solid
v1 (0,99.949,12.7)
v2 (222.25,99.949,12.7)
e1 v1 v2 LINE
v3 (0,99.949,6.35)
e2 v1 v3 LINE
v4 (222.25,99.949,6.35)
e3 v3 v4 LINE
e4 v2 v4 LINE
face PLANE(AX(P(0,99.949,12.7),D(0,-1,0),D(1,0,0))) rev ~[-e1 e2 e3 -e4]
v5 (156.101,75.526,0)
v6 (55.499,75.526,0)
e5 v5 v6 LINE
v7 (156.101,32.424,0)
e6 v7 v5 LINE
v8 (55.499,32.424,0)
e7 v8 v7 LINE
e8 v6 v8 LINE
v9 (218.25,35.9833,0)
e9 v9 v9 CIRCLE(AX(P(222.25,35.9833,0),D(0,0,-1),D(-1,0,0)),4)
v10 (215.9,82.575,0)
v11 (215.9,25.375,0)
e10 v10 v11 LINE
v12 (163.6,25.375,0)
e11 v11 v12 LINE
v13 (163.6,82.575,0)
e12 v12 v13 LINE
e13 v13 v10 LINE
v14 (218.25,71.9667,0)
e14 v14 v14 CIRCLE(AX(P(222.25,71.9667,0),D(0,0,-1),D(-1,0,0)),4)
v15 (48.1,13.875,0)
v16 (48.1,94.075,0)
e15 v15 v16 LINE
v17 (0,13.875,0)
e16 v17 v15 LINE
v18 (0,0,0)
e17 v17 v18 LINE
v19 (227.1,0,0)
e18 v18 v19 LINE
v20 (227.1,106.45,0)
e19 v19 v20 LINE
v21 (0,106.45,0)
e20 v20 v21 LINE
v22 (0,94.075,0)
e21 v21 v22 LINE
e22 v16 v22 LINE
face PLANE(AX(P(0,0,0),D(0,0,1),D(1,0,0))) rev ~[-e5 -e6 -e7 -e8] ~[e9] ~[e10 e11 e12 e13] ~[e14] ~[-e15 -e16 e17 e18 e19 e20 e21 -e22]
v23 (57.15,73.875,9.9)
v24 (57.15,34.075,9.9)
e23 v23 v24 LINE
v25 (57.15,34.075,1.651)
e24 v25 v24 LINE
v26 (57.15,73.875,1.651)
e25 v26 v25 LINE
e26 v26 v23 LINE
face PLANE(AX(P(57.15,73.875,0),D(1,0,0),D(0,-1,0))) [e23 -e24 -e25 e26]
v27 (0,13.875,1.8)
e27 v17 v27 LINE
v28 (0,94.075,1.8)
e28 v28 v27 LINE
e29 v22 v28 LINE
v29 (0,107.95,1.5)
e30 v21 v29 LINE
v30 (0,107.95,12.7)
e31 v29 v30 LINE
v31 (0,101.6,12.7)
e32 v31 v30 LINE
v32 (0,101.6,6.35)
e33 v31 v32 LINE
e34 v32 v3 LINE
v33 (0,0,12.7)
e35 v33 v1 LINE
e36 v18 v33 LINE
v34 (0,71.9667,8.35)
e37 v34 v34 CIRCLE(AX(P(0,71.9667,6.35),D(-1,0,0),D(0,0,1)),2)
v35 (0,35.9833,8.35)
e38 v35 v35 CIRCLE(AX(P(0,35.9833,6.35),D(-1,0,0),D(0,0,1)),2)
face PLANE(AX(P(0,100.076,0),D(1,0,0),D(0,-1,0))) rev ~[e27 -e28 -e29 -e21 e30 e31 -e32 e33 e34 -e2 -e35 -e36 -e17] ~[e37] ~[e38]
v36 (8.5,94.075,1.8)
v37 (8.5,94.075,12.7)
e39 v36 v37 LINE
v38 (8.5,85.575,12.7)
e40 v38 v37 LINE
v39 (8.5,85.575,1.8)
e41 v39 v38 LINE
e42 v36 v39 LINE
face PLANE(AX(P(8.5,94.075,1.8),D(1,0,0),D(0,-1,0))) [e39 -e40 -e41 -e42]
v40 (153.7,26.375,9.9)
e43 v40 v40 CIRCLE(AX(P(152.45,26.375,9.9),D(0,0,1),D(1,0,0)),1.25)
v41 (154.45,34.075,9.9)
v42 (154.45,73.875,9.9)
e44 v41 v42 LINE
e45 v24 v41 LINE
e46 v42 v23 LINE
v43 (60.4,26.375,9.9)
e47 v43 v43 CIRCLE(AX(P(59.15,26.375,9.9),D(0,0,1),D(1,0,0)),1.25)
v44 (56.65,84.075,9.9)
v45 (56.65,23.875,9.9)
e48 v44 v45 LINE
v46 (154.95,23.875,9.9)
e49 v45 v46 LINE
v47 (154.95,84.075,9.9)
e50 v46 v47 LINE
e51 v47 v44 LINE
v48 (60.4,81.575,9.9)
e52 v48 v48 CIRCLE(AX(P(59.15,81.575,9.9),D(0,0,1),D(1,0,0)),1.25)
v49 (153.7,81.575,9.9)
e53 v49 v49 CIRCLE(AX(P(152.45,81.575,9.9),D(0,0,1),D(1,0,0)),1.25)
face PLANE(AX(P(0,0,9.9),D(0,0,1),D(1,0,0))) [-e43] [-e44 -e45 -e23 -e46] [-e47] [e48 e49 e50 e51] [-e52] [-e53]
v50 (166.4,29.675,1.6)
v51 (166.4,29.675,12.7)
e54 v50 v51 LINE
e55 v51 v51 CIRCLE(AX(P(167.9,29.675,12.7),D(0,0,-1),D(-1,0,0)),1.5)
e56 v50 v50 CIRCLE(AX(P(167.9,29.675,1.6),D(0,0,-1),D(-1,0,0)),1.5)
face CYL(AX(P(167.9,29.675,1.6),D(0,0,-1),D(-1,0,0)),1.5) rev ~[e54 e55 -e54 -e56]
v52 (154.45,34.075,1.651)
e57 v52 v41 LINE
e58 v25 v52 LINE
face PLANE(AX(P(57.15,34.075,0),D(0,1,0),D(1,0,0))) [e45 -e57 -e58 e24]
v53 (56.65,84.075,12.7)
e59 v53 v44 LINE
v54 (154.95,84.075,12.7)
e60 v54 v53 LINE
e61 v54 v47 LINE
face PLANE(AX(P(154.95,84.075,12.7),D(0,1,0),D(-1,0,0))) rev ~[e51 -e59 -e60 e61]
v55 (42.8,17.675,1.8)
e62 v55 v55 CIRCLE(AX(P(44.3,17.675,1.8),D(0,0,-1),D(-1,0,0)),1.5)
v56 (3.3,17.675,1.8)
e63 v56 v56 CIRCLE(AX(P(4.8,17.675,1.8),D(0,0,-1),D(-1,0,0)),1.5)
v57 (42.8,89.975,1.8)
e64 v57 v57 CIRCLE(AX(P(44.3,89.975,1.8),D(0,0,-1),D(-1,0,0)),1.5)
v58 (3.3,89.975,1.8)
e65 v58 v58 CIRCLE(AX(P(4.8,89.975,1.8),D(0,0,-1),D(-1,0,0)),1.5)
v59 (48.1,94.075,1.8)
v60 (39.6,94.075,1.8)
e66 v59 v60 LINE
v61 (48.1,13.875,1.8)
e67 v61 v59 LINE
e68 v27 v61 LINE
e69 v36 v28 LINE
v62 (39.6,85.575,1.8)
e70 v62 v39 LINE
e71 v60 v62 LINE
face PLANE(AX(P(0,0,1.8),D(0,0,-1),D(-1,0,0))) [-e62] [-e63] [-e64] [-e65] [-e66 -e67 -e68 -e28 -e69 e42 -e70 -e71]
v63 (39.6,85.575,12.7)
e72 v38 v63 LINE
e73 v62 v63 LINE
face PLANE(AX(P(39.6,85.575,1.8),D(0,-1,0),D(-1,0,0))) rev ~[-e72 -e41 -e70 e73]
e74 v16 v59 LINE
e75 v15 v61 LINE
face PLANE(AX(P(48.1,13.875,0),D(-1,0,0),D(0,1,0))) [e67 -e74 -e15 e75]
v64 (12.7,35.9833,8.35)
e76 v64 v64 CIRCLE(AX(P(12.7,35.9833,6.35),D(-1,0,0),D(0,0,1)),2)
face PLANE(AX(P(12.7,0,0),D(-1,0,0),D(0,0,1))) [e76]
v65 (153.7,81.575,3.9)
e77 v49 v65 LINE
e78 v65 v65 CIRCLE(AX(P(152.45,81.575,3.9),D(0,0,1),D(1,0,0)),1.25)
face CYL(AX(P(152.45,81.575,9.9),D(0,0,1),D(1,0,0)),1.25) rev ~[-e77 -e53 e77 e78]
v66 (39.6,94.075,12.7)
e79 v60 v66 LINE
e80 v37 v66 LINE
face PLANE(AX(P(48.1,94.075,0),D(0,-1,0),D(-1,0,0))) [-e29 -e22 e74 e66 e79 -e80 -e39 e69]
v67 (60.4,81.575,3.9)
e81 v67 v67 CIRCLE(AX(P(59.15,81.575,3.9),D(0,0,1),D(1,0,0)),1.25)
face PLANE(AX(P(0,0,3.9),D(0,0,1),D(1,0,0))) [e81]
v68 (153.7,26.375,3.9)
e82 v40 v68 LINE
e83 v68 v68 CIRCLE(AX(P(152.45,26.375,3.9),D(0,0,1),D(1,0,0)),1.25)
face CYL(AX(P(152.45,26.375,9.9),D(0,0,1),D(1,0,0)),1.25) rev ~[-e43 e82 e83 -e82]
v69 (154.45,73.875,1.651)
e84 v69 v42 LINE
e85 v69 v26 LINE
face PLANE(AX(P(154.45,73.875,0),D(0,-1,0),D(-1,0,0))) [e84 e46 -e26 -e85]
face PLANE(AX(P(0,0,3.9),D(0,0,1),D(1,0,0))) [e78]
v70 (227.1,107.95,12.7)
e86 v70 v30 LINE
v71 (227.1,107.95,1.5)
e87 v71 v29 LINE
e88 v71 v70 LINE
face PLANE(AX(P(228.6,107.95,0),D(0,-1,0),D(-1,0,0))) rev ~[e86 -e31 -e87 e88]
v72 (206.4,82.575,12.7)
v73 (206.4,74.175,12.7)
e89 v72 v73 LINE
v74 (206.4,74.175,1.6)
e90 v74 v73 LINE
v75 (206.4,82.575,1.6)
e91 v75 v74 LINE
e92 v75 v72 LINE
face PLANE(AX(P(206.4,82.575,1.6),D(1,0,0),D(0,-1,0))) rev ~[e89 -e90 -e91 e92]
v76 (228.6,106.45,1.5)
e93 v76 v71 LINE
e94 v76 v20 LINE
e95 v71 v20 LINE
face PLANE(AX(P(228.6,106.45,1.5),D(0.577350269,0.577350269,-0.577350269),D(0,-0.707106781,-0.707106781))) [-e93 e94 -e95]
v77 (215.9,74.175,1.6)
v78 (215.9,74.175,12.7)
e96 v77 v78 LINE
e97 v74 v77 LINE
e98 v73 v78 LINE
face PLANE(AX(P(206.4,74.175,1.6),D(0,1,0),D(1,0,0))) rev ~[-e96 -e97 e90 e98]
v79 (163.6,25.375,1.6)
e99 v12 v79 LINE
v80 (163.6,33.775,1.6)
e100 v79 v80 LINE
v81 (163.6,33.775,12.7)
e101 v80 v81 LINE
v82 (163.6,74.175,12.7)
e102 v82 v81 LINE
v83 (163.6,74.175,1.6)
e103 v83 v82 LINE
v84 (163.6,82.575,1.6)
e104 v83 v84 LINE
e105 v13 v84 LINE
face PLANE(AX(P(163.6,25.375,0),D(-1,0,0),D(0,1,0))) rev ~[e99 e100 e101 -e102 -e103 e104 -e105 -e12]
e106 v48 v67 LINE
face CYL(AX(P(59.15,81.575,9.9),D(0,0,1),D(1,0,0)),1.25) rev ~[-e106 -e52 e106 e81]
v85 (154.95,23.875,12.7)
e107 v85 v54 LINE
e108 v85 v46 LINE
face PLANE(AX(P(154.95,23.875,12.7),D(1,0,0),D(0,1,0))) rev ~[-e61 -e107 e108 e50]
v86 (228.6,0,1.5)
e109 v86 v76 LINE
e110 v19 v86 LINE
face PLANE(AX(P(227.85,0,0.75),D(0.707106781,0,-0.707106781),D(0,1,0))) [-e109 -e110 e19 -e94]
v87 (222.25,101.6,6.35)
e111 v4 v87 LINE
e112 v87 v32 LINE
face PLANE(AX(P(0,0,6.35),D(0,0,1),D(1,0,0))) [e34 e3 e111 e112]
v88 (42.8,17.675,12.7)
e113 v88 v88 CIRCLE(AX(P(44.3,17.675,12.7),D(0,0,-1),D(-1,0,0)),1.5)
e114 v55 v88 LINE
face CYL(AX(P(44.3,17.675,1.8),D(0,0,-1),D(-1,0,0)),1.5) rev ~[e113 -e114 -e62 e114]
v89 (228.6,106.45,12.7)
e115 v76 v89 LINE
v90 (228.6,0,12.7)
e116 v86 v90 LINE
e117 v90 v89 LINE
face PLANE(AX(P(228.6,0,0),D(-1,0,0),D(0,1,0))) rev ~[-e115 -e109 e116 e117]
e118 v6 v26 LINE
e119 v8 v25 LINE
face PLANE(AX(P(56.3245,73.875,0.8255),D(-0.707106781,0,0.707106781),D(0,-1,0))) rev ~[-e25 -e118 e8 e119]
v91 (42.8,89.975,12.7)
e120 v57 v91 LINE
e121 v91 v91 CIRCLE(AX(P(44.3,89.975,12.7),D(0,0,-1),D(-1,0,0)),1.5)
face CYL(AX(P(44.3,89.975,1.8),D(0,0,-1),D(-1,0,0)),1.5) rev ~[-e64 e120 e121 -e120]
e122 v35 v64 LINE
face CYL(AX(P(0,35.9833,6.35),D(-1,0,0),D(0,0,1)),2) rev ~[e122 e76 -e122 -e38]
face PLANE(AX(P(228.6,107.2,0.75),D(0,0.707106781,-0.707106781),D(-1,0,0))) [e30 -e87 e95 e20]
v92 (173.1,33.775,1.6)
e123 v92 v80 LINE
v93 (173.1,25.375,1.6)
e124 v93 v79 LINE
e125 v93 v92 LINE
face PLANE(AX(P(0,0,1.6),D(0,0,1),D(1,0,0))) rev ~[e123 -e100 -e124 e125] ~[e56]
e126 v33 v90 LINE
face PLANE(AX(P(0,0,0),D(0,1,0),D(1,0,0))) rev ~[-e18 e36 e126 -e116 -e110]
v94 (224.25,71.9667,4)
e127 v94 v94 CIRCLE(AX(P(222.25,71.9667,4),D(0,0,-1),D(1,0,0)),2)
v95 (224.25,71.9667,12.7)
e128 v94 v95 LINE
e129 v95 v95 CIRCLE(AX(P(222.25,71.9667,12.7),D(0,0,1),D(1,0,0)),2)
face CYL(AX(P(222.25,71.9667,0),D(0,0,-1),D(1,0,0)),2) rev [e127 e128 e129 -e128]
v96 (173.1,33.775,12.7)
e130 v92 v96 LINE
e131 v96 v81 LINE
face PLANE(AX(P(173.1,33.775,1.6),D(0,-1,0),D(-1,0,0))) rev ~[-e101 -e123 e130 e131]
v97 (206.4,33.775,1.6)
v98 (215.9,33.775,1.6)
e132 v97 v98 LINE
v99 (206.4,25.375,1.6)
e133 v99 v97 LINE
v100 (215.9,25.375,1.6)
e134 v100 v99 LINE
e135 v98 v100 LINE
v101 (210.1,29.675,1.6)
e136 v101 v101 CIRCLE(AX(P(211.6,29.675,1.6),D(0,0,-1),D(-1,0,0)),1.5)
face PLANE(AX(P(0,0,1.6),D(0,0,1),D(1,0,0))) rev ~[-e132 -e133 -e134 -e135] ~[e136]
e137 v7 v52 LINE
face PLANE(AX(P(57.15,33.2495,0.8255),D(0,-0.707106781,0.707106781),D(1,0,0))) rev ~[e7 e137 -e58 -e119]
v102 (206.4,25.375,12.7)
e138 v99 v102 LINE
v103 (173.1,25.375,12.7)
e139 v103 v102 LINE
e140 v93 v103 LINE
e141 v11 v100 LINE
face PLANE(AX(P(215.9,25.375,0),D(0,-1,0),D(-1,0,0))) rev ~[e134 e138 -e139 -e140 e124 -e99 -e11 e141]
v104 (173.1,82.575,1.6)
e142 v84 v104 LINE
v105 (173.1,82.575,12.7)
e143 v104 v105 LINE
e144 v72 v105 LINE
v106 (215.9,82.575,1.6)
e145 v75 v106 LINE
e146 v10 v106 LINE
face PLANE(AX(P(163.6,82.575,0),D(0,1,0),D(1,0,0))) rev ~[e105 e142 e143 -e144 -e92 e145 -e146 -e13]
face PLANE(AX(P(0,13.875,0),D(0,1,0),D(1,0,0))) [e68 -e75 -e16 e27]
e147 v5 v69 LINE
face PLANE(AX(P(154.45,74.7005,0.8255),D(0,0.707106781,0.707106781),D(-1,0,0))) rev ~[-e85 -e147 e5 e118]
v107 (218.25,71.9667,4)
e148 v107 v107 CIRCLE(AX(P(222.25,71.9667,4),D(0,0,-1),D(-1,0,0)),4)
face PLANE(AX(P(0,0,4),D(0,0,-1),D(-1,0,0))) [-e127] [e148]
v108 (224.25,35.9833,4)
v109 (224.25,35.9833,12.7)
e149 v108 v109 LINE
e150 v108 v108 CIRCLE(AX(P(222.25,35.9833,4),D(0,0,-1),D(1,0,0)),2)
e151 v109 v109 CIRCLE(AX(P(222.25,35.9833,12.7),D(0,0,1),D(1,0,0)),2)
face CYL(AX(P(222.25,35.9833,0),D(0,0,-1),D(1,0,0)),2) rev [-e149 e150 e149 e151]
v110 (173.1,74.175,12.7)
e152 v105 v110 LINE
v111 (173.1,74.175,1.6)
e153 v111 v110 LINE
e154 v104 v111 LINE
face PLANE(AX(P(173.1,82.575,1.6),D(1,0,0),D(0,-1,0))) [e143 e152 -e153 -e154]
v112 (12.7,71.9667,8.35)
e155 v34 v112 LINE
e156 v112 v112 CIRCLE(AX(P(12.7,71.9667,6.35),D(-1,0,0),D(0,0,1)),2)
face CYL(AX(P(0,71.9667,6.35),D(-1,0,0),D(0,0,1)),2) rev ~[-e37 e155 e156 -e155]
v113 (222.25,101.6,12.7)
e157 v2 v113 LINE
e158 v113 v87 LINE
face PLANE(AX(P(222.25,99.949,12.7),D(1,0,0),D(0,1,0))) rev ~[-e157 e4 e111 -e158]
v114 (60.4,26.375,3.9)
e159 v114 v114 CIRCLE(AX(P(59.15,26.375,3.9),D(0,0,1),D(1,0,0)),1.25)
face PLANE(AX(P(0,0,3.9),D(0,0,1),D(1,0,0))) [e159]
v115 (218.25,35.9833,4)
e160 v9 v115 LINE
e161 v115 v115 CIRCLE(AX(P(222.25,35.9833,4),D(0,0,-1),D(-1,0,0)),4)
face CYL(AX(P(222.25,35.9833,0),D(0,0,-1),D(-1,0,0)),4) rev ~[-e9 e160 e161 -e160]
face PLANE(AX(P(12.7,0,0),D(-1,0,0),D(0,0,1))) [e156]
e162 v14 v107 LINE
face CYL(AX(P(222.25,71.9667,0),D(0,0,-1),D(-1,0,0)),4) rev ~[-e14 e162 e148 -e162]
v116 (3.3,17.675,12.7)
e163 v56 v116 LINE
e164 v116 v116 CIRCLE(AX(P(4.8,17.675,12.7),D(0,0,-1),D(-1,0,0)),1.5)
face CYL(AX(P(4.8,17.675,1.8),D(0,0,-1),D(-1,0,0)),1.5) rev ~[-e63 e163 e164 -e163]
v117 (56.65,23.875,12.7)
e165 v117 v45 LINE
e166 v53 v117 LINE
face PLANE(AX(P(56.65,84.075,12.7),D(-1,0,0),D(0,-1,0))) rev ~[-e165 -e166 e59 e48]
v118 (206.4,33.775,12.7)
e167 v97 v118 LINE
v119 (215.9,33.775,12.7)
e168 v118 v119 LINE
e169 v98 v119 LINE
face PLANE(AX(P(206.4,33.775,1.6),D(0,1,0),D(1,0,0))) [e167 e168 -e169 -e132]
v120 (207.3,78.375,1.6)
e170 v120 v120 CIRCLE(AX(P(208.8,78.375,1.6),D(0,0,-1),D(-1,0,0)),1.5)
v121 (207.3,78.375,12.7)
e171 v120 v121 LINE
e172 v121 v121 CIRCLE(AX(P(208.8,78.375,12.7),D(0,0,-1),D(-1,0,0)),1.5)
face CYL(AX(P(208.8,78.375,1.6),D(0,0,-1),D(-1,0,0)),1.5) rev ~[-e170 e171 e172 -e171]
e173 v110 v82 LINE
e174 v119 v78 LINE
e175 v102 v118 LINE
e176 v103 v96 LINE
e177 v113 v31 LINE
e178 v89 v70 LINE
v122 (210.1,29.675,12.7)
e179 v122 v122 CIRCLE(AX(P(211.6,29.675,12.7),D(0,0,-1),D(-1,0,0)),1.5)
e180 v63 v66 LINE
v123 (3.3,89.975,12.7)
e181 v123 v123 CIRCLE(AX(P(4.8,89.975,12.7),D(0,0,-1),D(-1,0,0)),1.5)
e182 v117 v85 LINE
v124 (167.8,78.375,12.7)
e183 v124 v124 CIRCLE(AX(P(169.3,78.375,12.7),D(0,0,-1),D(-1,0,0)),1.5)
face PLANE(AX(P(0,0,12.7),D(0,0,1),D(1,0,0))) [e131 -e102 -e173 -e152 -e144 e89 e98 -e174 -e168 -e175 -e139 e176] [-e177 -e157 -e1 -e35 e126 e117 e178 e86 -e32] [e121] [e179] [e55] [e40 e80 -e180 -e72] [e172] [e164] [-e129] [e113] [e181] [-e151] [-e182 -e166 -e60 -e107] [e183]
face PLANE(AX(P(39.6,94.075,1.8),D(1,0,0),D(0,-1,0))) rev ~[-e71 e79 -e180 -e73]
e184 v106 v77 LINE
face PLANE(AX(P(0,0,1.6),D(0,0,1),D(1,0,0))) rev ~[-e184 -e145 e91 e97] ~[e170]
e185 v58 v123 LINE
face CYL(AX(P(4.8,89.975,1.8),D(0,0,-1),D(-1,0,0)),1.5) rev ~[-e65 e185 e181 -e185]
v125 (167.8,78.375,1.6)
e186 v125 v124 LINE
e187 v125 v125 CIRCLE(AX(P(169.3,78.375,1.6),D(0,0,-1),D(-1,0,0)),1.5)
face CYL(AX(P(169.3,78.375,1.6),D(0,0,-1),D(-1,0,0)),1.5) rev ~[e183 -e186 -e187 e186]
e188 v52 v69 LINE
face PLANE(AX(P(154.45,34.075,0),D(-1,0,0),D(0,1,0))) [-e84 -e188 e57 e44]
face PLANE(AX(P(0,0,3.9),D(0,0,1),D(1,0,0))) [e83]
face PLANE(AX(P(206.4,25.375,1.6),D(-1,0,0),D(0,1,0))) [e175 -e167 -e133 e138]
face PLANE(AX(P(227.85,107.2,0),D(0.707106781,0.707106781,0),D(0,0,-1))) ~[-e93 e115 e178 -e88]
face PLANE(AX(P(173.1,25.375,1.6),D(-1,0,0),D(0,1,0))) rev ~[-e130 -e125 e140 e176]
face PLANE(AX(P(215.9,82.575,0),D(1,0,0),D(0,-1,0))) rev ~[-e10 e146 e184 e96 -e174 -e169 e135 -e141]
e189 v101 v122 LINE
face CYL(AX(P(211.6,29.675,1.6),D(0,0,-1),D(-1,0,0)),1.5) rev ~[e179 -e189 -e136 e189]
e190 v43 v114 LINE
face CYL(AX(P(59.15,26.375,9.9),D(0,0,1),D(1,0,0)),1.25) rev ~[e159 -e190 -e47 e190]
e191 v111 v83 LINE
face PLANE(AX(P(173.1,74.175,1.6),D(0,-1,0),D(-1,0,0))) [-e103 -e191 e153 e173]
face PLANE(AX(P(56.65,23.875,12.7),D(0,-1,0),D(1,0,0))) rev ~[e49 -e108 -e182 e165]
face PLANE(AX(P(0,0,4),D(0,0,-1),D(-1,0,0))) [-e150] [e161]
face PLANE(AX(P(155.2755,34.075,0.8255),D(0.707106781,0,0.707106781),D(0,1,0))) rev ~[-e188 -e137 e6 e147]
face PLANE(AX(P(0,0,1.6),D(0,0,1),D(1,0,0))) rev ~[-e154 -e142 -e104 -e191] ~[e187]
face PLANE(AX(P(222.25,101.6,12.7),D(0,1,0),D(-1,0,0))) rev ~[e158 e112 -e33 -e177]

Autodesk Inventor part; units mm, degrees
ref_plane "YZ Plane" through (0, 0, 0) normal (1, 0, 0) x (0, 1, 0)
ref_plane "XZ Plane" through (0, 0, 0) normal (0, 1, 0) x (-1, 0, 0)
ref_plane "XY Plane" through (0, 0, 0) normal (0, 0, 1) x (1, 0, 0)
sketch "Sketch1" plane through (0, 0, 0) normal (0, 0, 1) x (1, 0, 0)
  line L0 (0, 0) -> (228.6, 0)
  line L1 (228.6, 0) -> (228.6, 107.95)
  line L2 (228.6, 107.95) -> (0, 107.95)
  line L3 (0, 107.95) -> (0, 0)
  line L4 (228.6, 107.95) -> (222.25, 107.95) construction
  line L5 (222.25, 107.95) -> (222.25, 101.6) construction
  line L6 (222.25, 101.6) -> (228.6, 101.6) construction
  line L7 (228.6, 101.6) -> (228.6, 107.95) construction
  line L8 (222.25, 101.6) -> (0, 101.6)
  line L9 (0, 101.6) -> (0, 100.076)
  line L10 (0, 100.076) -> (222.25, 100.076)
  line L11 (222.25, 100.076) -> (222.25, 101.6)
  line L12 (228.6, 0) -> (222.25, 0) construction
  line L13 (222.25, 0) -> (222.25, 35.9833) construction
  line L14 (222.25, 35.9833) -> (228.6, 35.9833) construction
  line L15 (228.6, 35.9833) -> (228.6, 0) construction
  circle A0 centre (222.25, 35.9833) radius 2
  circle A1 centre (222.25, 71.9667) radius 2
  dimension "length" = 228.6
  dimension "height" = 107.95
  dimension "d3" = 6.35
  dimension "d4" = 6.35
  dimension "d5" = 222.25
  dimension "d6" = 1.524
  dimension "spacing" = 35.9833
  dimension "d9" = 6.35
  dimension "TopScrewDiameter" = 4
  dimension "d13" = 35.9833
extrude "Generic Shape" add sketch "Sketch1" along normal blind 12.7
chamfer "Chamfer Outside Edges" distance 1.5 angle 45 3 edges at (114.3, 107.95, 0) (228.6, 107.95, 6.35) (228.6, 53.975, 0)
sketch "ScrewCapDiameter" plane through (0, 0, 0) normal (0, 0, -1) x (-1, 0, 0)
  circle A0 centre (-222.25, 71.9667) radius 2 projected
  circle A1 centre (-222.25, 71.9667) radius 4
  circle A2 centre (-222.25, 35.9833) radius 2 projected
  circle A3 centre (-222.25, 35.9833) radius 4
  point P0 (0, 0)
  dimension "d106" = 8
  dimension "d107" = 8
extrude "ScrewCapCountersink" cut sketch "ScrewCapDiameter" against normal blind 4
sketch "PcbNotchDimensions" plane through (0, 0, 12.7) normal (0, 0, 1) x (1, 0, 0)
  line L0 (228.6, 107.95) -> (0, 107.95) construction
  line L1 (228.6, 107.95) -> (222.25, 107.95) construction
  line L2 (222.25, 107.95) -> (222.25, 101.6) construction
  line L3 (222.25, 101.6) -> (228.6, 101.6) construction
  line L4 (228.6, 101.6) -> (228.6, 107.95) construction
  line L5 (222.25, 101.6) -> (0, 101.6)
  line L6 (0, 101.6) -> (0, 99.949)
  line L7 (0, 99.949) -> (222.25, 99.949)
  line L8 (222.25, 99.949) -> (222.25, 101.6)
  point P0 (0, 0)
  dimension "d21" = 6.35
  dimension "d22" = 6.35
  dimension "d23" = 222.25
  dimension "PcbThickness" = 1.651
extrude "PCB Notch" cut sketch "PcbNotchDimensions" against normal blind 6.35
sketch "UntappedScrewHoleDimensions" plane through (0, 0, 0) normal (-1, 0, 0) x (0, 0, 1)
  line L0 (0, 0) -> (6.35, 0) construction
  line L1 (6.35, 0) -> (6.35, 35.9833) construction
  line L2 (6.35, 35.9833) -> (0, 35.9833) construction
  line L3 (0, 35.9833) -> (0, 0) construction
  circle A0 centre (6.35, 35.9833) radius 2
  line L4 (0, 107.95) -> (6.35, 107.95) construction
  line L5 (6.35, 107.95) -> (6.35, 71.9667) construction
  line L6 (6.35, 71.9667) -> (0, 71.9667) construction
  line L7 (0, 71.9667) -> (0, 107.95) construction
  circle A1 centre (6.35, 71.9667) radius 2
  dimension "d33" = 6.35
  dimension "d34" = 35.9833
  dimension "ScrewDiameterUntapped" = 4
  dimension "d36" = 6.35
  dimension "d37" = 35.9833
  dimension "d38" = 4
extrude "UntappedScrewDepth" cut sketch "UntappedScrewHoleDimensions" against normal blind 12.7
sketch "LCD" plane through (0, 0, 0) normal (0, 0, -1) x (-1, 0, 0)
  line L0 (0, 0) -> (-228.6, 0) construction
  line L1 (0, 0) -> (-105.8, 0) construction
  line L2 (-105.8, 0) -> (-105.8, 53.975) construction
  line L3 (-105.8, 53.975) -> (0, 53.975) construction
  line L4 (0, 53.975) -> (0, 0) construction
  line L5 (-154.45, 73.875) -> (-57.15, 73.875)
  line L6 (-57.15, 73.875) -> (-57.15, 34.075)
  line L7 (-57.15, 34.075) -> (-154.45, 34.075)
  line L8 (-154.45, 34.075) -> (-154.45, 73.875)
  line L9 (-154.45, 73.875) -> (-57.15, 34.075) construction
  line L10 (-57.15, 73.875) -> (-154.45, 34.075) construction
  line L11 (-154.95, 84.075) -> (-56.65, 84.075)
  line L12 (-56.65, 84.075) -> (-56.65, 23.875)
  line L13 (-56.65, 23.875) -> (-154.95, 23.875)
  line L14 (-154.95, 23.875) -> (-154.95, 84.075)
  line L15 (-154.95, 84.075) -> (-56.65, 23.875) construction
  line L16 (-56.65, 84.075) -> (-154.95, 23.875) construction
  dimension "d49" = 105.8
  dimension "d50" = 53.975
  dimension "LcdLength" = 97.3
  dimension "LcdHeight" = 39.8
  dimension "LcdBorderHeight" = 60.2
  dimension "LcdBorderLength" = 98.3
extrude "LcdWindow" cut sketch "LCD" against normal blind 9.9 contours L5 L6 L7 L8
sketch "LcdFrameDimensions" plane through (0, 0, 12.7) normal (0, 0, 1) x (1, 0, 0)
  line L0 (154.95, 84.075) -> (56.65, 84.075) projected
  line L1 (154.95, 23.875) -> (154.95, 84.075) projected
  line L2 (56.65, 23.875) -> (154.95, 23.875) projected
  line L3 (56.65, 84.075) -> (56.65, 23.875) projected
  point P0 (0, 0)
extrude "LcdFrame" cut sketch "LcdFrameDimensions" against normal blind 2.8
sketch "LcdScrewsSketch" plane through (0, 0, 9.9) normal (0, 0, 1) x (1, 0, 0)
  line L0 (56.65, 23.875) -> (56.65, 84.075) construction
  line L1 (56.65, 84.075) -> (59.15, 84.075) construction
  line L2 (59.15, 84.075) -> (59.15, 81.575) construction
  line L3 (59.15, 81.575) -> (56.65, 81.575) construction
  line L4 (56.65, 81.575) -> (56.65, 84.075) construction
  circle A0 centre (59.15, 81.575) radius 1.25
  line L5 (56.65, 84.075) -> (154.95, 84.075) construction
  line L6 (105.8, 84.075) -> (105.8, 23.875) construction
  line L7 (154.95, 23.875) -> (56.65, 23.875) construction
  line L8 (56.65, 53.975) -> (154.95, 53.975) construction
  line L9 (154.95, 84.075) -> (154.95, 23.875) construction
  circle A1 centre (152.45, 81.575) radius 1.25
  circle A2 centre (59.15, 26.375) radius 1.25
  circle A3 centre (152.45, 26.375) radius 1.25
  point P0 (0, 0)
  dimension "LcdFrameHoleOffset" = 2.5
  dimension "d71" = 2.5
  dimension "LcdFrameHoleDiameterUntapped" = 2.5
extrude "LcdScrews" cut sketch "LcdScrewsSketch" against normal blind 6
sketch "InputDimensions" plane through (0, 0, 0) normal (0, 0, 1) x (1, 0, 0)
  line L0 (154.45, 34.075) -> (154.45, 73.875) construction
  line L1 (228.6, 0) -> (228.6, 107.95) construction
  line L2 (163.6, 82.575) -> (215.9, 82.575)
  line L3 (215.9, 82.575) -> (215.9, 25.375)
  line L4 (215.9, 25.375) -> (163.6, 25.375)
  line L5 (163.6, 25.375) -> (163.6, 82.575)
  line L6 (228.6, 107.95) -> (189.738, 107.95) construction
  line L7 (228.6, 53.975) -> (228.6, 107.95) construction
  line L8 (215.9, 82.575) -> (163.6, 25.375) construction
  line L9 (215.9, 25.375) -> (163.6, 82.575) construction
  line L10 (189.75, 53.975) -> (228.6, 53.975) construction
  line L11 (228.6, 53.975) -> (228.6, 107.95) construction
  line L12 (228.6, 107.95) -> (189.75, 107.95) construction
  line L13 (189.75, 107.95) -> (189.75, 53.975) construction
  point P0 (0, 0)
  dimension "InputHeight" = 57.2
  dimension "InputLength" = 52.3
  dimension "d93" = 38.85
  dimension "d94" = 53.975
extrude "InputCountersink" cut sketch "InputDimensions" along normal blind 1.6
sketch "InputCorners" plane through (0, 0, 1.6) normal (0, 0, -1) x (-1, 0, 0)
  line L0 (-215.9, 25.375) -> (-215.9, 82.575) projected
  line L1 (-215.9, 82.575) -> (-208.8, 82.575) construction
  line L2 (-208.8, 82.575) -> (-208.8, 78.375) construction
  line L3 (-208.8, 78.375) -> (-215.9, 78.375) construction
  line L4 (-215.9, 78.375) -> (-215.9, 82.575) construction
  circle A0 centre (-208.8, 78.375) radius 1.75 construction
  line L5 (-215.9, 82.575) -> (-163.6, 82.575) projected
  line L6 (-189.75, 82.575) -> (-189.75, 25.375) construction
  line L7 (-163.6, 25.375) -> (-215.9, 25.375) projected
  line L8 (-215.9, 53.975) -> (-163.6, 53.975) construction
  line L9 (-163.6, 82.575) -> (-163.6, 25.375) projected
  line L10 (-215.9, 82.575) -> (-206.4, 82.575) construction
  line L11 (-206.4, 82.575) -> (-206.4, 74.175)
  line L12 (-206.4, 74.175) -> (-215.9, 74.175)
  line L13 (-215.9, 74.175) -> (-215.9, 82.575) construction
  line L14 (-173.1, 82.575) -> (-173.1, 74.175)
  line L15 (-173.1, 74.175) -> (-163.6, 74.175)
  line L16 (-206.4, 25.375) -> (-206.4, 33.775)
  line L17 (-206.4, 33.775) -> (-215.9, 33.775)
  line L18 (-173.1, 33.775) -> (-163.6, 33.775)
  line L19 (-173.1, 25.375) -> (-173.1, 33.775)
  circle A1 centre (-208.8, 78.375) radius 1.5
  line L20 (-163.6, 82.575) -> (-169.3, 82.575) construction
  line L21 (-169.3, 82.575) -> (-169.3, 78.375) construction
  line L22 (-169.3, 78.375) -> (-163.6, 78.375) construction
  line L23 (-163.6, 78.375) -> (-163.6, 82.575) construction
  line L24 (-215.9, 25.375) -> (-211.6, 25.375) construction
  line L25 (-211.6, 25.375) -> (-211.6, 29.675) construction
  line L26 (-211.6, 29.675) -> (-215.9, 29.675) construction
  line L27 (-215.9, 29.675) -> (-215.9, 25.375) construction
  line L28 (-163.6, 25.375) -> (-167.9, 25.375) construction
  line L29 (-167.9, 25.375) -> (-167.9, 29.675) construction
  line L30 (-167.9, 29.675) -> (-163.6, 29.675) construction
  line L31 (-163.6, 29.675) -> (-163.6, 25.375) construction
  circle A2 centre (-211.6, 29.675) radius 1.5
  circle A3 centre (-167.9, 29.675) radius 1.5
  line L32 (-163.6, 82.575) -> (-163.6, 25.375) projected
  circle A4 centre (-169.3, 78.375) radius 1.5
  point P0 (0, 0)
  point P1 (-163.6, 33.775)
  point P2 (-163.6, 74.175)
  point P3 (-173.1, 82.575)
  point P4 (-206.4, 82.575)
  point P5 (-215.9, 33.775)
  point P6 (-206.4, 25.375)
  point P7 (-173.1, 25.375)
  dimension "NWInputHoleSpacingX" = 7.1
  dimension "UpperInputHoleSpacingY" = 4.2
  dimension "InputScrewDiameterFull" = 3.5
  dimension "InputCornerLengthX" = 9.5
  dimension "InputCornerLengthY" = 8.4
  dimension "InputScrewDiameterUntapped" = 3
  dimension "NEInputHoleSpacingX" = 5.7
  dimension "d134" = 4.2
  dimension "LowerInputHoleSpacingY" = 4.3
  dimension "SWInputHoleSpacingX" = 4.3
  dimension "d138" = 4.3
  dimension "SEInputHoleSpacingX" = 4.3
  dimension "d140" = 3
  dimension "d141" = 3
  dimension "d142" = 3
extrude "InputCut" cut sketch "InputCorners" against normal blind 11.1 contours L0 L12 L11 L5 L14 L15 L9 L18 L19 L7 L16 L17 | A1 | A2 | A3 | A4
chamfer "LcdChamfer" distance 1.651 angle 45 4 edges at (105.8, 73.875, 0) (154.45, 53.975, 0) (105.8, 34.075, 0) (57.15, 53.975, 0)
sketch "KeypadDimensions" plane through (0, 0, 0) normal (0, 0, -1) x (-1, 0, 0)
  line L0 (-48.1, 94.075) -> (0, 94.075)
  line L1 (0, 94.075) -> (0, 13.875)
  line L2 (0, 13.875) -> (-48.1, 13.875)
  line L3 (-48.1, 13.875) -> (-48.1, 94.075)
  line L4 (-48.1, 94.075) -> (0, 13.875) construction
  line L5 (-48.1, 13.875) -> (0, 94.075) construction
  line L6 (0, 99.949) -> (0, 0) construction
  line L7 (0, 0) -> (-24.05, 0) construction
  line L8 (-24.05, 0) -> (-24.05, 53.975) construction
  line L9 (-24.05, 53.975) -> (0, 53.975) construction
  line L10 (0, 53.975) -> (0, 0) construction
  dimension "KeypadLength" = 48.1
  dimension "KeypadHeight" = 80.2
  dimension "d97" = 53.975
  dimension "d98" = 24.05
extrude "KeypadCountersink" cut sketch "KeypadDimensions" against normal blind 1.8
sketch "KeypadCorners" plane through (0, 0, 1.8) normal (0, 0, -1) x (-1, 0, 0)
  line L0 (-48.1, 13.875) -> (-48.1, 94.075) construction
  line L1 (-48.1, 94.075) -> (-44.3, 94.075) construction
  line L2 (-44.3, 94.075) -> (-44.3, 89.975) construction
  line L3 (-44.3, 89.975) -> (-48.1, 89.975) construction
  line L4 (-48.1, 89.975) -> (-48.1, 94.075) construction
  circle A0 centre (-44.3, 89.975) radius 1.75 construction
  circle A1 centre (-44.3, 89.975) radius 1.5
  line L5 (-48.1, 94.075) -> (-39.6, 94.075)
  line L6 (-39.6, 94.075) -> (-39.6, 85.575)
  line L7 (-39.6, 85.575) -> (-48.1, 85.575)
  line L8 (-48.1, 85.575) -> (-48.1, 94.075)
  line L9 (-48.1, 94.075) -> (0, 94.075) construction
  line L10 (-24.05, 94.075) -> (-24.05, 13.875) construction
  line L11 (0, 13.875) -> (-48.1, 13.875) construction
  line L12 (-48.1, 53.975) -> (0, 53.975) construction
  line L13 (0, 99.949) -> (0, 0) construction
  line L14 (-8.5, 94.075) -> (-8.5, 85.575)
  line L15 (-8.5, 85.575) -> (0, 85.575)
  line L16 (-39.6, 13.875) -> (-39.6, 22.375)
  line L17 (-39.6, 22.375) -> (-48.1, 22.375)
  line L18 (-8.5, 22.375) -> (0, 22.375)
  line L19 (-8.5, 13.875) -> (-8.5, 22.375)
  line L20 (-39.6, 85.575) -> (-8.5, 85.575)
  line L21 (0, 94.075) -> (-4.8, 94.075) construction
  line L22 (-4.8, 94.075) -> (-4.8, 89.975) construction
  line L23 (-4.8, 89.975) -> (0, 89.975) construction
  line L24 (0, 89.975) -> (0, 94.075) construction
  line L25 (0, 13.875) -> (-4.8, 13.875) construction
  line L26 (-4.8, 13.875) -> (-4.8, 17.675) construction
  line L27 (-4.8, 17.675) -> (0, 17.675) construction
  line L28 (0, 17.675) -> (0, 13.875) construction
  circle A2 centre (-4.8, 17.675) radius 1.5
  line L29 (-48.1, 13.875) -> (-44.3, 13.875) construction
  line L30 (-44.3, 13.875) -> (-44.3, 17.675) construction
  line L31 (-44.3, 17.675) -> (-48.1, 17.675) construction
  line L32 (-48.1, 17.675) -> (-48.1, 13.875) construction
  circle A3 centre (-44.3, 17.675) radius 1.5
  circle A4 centre (-4.8, 89.975) radius 1.5
  line L33 (-39.6, 94.075) -> (-8.5, 94.075)
  dimension "LeftKeypadHoleSpacingX" = 3.8
  dimension "UpperKeypadHoleSpacingY" = 4.1
  dimension "KeypadHoleDiameter" = 3.5
  dimension "KeypadScrewHoleDiameterUntapped" = 3
  dimension "KeypadCornerLengthX" = 8.5
  dimension "KeypadCornerLengthY" = 8.5
  dimension "RightKeypadHoleSpacingX" = 4.8
  dimension "d118" = 4.1
  dimension "d121" = 4.8
  dimension "LowerKeypadHoleSpacingY" = 3.8
  dimension "d123" = 3
  dimension "d124" = 3.8
  dimension "d125" = 3.8
  dimension "d126" = 3
  dimension "d127" = 3
extrude "KeypadHoles" cut sketch "KeypadCorners" against normal blind 11.1 contours A1 | L33 L14 L20 L6 | A2 | A3 | A4
thread "Thread6" size "M3x0.5" class "6H" standard "ANSI Metric M Profile" full length
thread "Thread7" size "M3x0.5" class "6H" standard "ANSI Metric M Profile" full length
thread "Thread8" size "M3x0.5" class "6H" standard "ANSI Metric M Profile" full length
thread "Thread9" size "M3x0.5" class "6H" standard "ANSI Metric M Profile" full length
thread "Thread10" size "M4x0.7" class "6H" standard "ANSI Metric M Profile" length 228.6
thread "Thread11" size "M4x0.7" class "6H" standard "ANSI Metric M Profile" length 228.6
equation "\"d3\" = 0.5 * thickness"
equation "\"d4\" = 0.5 * thickness"
equation "\"d5\" = length - 0.5 * thickness"
equation "\"spacing\" = 0.333333 * height"
equation "\"d9\" = 0.5 * thickness"
equation "\"d13\" = spacing"
equation "\"d25\" = 0.5 * thickness"
equation "\"d33\" = 0.5 * thickness"
equation "\"d34\" = 0.333333 * height"
equation "\"d36\" = 0.5 * thickness"
equation "\"d37\" = 0.333333 * height"
equation "\"d38\" = ScrewDiameterUntapped"
equation "\"d50\" = 0.5 * height"
equation "\"d66\" = thickness - LcdPcbThickness"
equation "\"LcdPcbThickness\" = thickness - LcdThickness"
equation "\"d71\" = LcdFrameHoleOffset"
equation "\"d93\" = thickness + 0.5 * InputLength"
equation "\"d94\" = 0.5 * height"
equation "\"d84\" = thickness - InputThickness"
equation "\"d97\" = 0.5 * height"
equation "\"d98\" = 0.5 * KeypadLength"
equation "\"LcdThickness\" = 9.9"
equation "\"thickness\" = 12.7"
equation "\"InputThickness\" = 1.6"
properties part number "2020-03-29 CubeBaseFull"
